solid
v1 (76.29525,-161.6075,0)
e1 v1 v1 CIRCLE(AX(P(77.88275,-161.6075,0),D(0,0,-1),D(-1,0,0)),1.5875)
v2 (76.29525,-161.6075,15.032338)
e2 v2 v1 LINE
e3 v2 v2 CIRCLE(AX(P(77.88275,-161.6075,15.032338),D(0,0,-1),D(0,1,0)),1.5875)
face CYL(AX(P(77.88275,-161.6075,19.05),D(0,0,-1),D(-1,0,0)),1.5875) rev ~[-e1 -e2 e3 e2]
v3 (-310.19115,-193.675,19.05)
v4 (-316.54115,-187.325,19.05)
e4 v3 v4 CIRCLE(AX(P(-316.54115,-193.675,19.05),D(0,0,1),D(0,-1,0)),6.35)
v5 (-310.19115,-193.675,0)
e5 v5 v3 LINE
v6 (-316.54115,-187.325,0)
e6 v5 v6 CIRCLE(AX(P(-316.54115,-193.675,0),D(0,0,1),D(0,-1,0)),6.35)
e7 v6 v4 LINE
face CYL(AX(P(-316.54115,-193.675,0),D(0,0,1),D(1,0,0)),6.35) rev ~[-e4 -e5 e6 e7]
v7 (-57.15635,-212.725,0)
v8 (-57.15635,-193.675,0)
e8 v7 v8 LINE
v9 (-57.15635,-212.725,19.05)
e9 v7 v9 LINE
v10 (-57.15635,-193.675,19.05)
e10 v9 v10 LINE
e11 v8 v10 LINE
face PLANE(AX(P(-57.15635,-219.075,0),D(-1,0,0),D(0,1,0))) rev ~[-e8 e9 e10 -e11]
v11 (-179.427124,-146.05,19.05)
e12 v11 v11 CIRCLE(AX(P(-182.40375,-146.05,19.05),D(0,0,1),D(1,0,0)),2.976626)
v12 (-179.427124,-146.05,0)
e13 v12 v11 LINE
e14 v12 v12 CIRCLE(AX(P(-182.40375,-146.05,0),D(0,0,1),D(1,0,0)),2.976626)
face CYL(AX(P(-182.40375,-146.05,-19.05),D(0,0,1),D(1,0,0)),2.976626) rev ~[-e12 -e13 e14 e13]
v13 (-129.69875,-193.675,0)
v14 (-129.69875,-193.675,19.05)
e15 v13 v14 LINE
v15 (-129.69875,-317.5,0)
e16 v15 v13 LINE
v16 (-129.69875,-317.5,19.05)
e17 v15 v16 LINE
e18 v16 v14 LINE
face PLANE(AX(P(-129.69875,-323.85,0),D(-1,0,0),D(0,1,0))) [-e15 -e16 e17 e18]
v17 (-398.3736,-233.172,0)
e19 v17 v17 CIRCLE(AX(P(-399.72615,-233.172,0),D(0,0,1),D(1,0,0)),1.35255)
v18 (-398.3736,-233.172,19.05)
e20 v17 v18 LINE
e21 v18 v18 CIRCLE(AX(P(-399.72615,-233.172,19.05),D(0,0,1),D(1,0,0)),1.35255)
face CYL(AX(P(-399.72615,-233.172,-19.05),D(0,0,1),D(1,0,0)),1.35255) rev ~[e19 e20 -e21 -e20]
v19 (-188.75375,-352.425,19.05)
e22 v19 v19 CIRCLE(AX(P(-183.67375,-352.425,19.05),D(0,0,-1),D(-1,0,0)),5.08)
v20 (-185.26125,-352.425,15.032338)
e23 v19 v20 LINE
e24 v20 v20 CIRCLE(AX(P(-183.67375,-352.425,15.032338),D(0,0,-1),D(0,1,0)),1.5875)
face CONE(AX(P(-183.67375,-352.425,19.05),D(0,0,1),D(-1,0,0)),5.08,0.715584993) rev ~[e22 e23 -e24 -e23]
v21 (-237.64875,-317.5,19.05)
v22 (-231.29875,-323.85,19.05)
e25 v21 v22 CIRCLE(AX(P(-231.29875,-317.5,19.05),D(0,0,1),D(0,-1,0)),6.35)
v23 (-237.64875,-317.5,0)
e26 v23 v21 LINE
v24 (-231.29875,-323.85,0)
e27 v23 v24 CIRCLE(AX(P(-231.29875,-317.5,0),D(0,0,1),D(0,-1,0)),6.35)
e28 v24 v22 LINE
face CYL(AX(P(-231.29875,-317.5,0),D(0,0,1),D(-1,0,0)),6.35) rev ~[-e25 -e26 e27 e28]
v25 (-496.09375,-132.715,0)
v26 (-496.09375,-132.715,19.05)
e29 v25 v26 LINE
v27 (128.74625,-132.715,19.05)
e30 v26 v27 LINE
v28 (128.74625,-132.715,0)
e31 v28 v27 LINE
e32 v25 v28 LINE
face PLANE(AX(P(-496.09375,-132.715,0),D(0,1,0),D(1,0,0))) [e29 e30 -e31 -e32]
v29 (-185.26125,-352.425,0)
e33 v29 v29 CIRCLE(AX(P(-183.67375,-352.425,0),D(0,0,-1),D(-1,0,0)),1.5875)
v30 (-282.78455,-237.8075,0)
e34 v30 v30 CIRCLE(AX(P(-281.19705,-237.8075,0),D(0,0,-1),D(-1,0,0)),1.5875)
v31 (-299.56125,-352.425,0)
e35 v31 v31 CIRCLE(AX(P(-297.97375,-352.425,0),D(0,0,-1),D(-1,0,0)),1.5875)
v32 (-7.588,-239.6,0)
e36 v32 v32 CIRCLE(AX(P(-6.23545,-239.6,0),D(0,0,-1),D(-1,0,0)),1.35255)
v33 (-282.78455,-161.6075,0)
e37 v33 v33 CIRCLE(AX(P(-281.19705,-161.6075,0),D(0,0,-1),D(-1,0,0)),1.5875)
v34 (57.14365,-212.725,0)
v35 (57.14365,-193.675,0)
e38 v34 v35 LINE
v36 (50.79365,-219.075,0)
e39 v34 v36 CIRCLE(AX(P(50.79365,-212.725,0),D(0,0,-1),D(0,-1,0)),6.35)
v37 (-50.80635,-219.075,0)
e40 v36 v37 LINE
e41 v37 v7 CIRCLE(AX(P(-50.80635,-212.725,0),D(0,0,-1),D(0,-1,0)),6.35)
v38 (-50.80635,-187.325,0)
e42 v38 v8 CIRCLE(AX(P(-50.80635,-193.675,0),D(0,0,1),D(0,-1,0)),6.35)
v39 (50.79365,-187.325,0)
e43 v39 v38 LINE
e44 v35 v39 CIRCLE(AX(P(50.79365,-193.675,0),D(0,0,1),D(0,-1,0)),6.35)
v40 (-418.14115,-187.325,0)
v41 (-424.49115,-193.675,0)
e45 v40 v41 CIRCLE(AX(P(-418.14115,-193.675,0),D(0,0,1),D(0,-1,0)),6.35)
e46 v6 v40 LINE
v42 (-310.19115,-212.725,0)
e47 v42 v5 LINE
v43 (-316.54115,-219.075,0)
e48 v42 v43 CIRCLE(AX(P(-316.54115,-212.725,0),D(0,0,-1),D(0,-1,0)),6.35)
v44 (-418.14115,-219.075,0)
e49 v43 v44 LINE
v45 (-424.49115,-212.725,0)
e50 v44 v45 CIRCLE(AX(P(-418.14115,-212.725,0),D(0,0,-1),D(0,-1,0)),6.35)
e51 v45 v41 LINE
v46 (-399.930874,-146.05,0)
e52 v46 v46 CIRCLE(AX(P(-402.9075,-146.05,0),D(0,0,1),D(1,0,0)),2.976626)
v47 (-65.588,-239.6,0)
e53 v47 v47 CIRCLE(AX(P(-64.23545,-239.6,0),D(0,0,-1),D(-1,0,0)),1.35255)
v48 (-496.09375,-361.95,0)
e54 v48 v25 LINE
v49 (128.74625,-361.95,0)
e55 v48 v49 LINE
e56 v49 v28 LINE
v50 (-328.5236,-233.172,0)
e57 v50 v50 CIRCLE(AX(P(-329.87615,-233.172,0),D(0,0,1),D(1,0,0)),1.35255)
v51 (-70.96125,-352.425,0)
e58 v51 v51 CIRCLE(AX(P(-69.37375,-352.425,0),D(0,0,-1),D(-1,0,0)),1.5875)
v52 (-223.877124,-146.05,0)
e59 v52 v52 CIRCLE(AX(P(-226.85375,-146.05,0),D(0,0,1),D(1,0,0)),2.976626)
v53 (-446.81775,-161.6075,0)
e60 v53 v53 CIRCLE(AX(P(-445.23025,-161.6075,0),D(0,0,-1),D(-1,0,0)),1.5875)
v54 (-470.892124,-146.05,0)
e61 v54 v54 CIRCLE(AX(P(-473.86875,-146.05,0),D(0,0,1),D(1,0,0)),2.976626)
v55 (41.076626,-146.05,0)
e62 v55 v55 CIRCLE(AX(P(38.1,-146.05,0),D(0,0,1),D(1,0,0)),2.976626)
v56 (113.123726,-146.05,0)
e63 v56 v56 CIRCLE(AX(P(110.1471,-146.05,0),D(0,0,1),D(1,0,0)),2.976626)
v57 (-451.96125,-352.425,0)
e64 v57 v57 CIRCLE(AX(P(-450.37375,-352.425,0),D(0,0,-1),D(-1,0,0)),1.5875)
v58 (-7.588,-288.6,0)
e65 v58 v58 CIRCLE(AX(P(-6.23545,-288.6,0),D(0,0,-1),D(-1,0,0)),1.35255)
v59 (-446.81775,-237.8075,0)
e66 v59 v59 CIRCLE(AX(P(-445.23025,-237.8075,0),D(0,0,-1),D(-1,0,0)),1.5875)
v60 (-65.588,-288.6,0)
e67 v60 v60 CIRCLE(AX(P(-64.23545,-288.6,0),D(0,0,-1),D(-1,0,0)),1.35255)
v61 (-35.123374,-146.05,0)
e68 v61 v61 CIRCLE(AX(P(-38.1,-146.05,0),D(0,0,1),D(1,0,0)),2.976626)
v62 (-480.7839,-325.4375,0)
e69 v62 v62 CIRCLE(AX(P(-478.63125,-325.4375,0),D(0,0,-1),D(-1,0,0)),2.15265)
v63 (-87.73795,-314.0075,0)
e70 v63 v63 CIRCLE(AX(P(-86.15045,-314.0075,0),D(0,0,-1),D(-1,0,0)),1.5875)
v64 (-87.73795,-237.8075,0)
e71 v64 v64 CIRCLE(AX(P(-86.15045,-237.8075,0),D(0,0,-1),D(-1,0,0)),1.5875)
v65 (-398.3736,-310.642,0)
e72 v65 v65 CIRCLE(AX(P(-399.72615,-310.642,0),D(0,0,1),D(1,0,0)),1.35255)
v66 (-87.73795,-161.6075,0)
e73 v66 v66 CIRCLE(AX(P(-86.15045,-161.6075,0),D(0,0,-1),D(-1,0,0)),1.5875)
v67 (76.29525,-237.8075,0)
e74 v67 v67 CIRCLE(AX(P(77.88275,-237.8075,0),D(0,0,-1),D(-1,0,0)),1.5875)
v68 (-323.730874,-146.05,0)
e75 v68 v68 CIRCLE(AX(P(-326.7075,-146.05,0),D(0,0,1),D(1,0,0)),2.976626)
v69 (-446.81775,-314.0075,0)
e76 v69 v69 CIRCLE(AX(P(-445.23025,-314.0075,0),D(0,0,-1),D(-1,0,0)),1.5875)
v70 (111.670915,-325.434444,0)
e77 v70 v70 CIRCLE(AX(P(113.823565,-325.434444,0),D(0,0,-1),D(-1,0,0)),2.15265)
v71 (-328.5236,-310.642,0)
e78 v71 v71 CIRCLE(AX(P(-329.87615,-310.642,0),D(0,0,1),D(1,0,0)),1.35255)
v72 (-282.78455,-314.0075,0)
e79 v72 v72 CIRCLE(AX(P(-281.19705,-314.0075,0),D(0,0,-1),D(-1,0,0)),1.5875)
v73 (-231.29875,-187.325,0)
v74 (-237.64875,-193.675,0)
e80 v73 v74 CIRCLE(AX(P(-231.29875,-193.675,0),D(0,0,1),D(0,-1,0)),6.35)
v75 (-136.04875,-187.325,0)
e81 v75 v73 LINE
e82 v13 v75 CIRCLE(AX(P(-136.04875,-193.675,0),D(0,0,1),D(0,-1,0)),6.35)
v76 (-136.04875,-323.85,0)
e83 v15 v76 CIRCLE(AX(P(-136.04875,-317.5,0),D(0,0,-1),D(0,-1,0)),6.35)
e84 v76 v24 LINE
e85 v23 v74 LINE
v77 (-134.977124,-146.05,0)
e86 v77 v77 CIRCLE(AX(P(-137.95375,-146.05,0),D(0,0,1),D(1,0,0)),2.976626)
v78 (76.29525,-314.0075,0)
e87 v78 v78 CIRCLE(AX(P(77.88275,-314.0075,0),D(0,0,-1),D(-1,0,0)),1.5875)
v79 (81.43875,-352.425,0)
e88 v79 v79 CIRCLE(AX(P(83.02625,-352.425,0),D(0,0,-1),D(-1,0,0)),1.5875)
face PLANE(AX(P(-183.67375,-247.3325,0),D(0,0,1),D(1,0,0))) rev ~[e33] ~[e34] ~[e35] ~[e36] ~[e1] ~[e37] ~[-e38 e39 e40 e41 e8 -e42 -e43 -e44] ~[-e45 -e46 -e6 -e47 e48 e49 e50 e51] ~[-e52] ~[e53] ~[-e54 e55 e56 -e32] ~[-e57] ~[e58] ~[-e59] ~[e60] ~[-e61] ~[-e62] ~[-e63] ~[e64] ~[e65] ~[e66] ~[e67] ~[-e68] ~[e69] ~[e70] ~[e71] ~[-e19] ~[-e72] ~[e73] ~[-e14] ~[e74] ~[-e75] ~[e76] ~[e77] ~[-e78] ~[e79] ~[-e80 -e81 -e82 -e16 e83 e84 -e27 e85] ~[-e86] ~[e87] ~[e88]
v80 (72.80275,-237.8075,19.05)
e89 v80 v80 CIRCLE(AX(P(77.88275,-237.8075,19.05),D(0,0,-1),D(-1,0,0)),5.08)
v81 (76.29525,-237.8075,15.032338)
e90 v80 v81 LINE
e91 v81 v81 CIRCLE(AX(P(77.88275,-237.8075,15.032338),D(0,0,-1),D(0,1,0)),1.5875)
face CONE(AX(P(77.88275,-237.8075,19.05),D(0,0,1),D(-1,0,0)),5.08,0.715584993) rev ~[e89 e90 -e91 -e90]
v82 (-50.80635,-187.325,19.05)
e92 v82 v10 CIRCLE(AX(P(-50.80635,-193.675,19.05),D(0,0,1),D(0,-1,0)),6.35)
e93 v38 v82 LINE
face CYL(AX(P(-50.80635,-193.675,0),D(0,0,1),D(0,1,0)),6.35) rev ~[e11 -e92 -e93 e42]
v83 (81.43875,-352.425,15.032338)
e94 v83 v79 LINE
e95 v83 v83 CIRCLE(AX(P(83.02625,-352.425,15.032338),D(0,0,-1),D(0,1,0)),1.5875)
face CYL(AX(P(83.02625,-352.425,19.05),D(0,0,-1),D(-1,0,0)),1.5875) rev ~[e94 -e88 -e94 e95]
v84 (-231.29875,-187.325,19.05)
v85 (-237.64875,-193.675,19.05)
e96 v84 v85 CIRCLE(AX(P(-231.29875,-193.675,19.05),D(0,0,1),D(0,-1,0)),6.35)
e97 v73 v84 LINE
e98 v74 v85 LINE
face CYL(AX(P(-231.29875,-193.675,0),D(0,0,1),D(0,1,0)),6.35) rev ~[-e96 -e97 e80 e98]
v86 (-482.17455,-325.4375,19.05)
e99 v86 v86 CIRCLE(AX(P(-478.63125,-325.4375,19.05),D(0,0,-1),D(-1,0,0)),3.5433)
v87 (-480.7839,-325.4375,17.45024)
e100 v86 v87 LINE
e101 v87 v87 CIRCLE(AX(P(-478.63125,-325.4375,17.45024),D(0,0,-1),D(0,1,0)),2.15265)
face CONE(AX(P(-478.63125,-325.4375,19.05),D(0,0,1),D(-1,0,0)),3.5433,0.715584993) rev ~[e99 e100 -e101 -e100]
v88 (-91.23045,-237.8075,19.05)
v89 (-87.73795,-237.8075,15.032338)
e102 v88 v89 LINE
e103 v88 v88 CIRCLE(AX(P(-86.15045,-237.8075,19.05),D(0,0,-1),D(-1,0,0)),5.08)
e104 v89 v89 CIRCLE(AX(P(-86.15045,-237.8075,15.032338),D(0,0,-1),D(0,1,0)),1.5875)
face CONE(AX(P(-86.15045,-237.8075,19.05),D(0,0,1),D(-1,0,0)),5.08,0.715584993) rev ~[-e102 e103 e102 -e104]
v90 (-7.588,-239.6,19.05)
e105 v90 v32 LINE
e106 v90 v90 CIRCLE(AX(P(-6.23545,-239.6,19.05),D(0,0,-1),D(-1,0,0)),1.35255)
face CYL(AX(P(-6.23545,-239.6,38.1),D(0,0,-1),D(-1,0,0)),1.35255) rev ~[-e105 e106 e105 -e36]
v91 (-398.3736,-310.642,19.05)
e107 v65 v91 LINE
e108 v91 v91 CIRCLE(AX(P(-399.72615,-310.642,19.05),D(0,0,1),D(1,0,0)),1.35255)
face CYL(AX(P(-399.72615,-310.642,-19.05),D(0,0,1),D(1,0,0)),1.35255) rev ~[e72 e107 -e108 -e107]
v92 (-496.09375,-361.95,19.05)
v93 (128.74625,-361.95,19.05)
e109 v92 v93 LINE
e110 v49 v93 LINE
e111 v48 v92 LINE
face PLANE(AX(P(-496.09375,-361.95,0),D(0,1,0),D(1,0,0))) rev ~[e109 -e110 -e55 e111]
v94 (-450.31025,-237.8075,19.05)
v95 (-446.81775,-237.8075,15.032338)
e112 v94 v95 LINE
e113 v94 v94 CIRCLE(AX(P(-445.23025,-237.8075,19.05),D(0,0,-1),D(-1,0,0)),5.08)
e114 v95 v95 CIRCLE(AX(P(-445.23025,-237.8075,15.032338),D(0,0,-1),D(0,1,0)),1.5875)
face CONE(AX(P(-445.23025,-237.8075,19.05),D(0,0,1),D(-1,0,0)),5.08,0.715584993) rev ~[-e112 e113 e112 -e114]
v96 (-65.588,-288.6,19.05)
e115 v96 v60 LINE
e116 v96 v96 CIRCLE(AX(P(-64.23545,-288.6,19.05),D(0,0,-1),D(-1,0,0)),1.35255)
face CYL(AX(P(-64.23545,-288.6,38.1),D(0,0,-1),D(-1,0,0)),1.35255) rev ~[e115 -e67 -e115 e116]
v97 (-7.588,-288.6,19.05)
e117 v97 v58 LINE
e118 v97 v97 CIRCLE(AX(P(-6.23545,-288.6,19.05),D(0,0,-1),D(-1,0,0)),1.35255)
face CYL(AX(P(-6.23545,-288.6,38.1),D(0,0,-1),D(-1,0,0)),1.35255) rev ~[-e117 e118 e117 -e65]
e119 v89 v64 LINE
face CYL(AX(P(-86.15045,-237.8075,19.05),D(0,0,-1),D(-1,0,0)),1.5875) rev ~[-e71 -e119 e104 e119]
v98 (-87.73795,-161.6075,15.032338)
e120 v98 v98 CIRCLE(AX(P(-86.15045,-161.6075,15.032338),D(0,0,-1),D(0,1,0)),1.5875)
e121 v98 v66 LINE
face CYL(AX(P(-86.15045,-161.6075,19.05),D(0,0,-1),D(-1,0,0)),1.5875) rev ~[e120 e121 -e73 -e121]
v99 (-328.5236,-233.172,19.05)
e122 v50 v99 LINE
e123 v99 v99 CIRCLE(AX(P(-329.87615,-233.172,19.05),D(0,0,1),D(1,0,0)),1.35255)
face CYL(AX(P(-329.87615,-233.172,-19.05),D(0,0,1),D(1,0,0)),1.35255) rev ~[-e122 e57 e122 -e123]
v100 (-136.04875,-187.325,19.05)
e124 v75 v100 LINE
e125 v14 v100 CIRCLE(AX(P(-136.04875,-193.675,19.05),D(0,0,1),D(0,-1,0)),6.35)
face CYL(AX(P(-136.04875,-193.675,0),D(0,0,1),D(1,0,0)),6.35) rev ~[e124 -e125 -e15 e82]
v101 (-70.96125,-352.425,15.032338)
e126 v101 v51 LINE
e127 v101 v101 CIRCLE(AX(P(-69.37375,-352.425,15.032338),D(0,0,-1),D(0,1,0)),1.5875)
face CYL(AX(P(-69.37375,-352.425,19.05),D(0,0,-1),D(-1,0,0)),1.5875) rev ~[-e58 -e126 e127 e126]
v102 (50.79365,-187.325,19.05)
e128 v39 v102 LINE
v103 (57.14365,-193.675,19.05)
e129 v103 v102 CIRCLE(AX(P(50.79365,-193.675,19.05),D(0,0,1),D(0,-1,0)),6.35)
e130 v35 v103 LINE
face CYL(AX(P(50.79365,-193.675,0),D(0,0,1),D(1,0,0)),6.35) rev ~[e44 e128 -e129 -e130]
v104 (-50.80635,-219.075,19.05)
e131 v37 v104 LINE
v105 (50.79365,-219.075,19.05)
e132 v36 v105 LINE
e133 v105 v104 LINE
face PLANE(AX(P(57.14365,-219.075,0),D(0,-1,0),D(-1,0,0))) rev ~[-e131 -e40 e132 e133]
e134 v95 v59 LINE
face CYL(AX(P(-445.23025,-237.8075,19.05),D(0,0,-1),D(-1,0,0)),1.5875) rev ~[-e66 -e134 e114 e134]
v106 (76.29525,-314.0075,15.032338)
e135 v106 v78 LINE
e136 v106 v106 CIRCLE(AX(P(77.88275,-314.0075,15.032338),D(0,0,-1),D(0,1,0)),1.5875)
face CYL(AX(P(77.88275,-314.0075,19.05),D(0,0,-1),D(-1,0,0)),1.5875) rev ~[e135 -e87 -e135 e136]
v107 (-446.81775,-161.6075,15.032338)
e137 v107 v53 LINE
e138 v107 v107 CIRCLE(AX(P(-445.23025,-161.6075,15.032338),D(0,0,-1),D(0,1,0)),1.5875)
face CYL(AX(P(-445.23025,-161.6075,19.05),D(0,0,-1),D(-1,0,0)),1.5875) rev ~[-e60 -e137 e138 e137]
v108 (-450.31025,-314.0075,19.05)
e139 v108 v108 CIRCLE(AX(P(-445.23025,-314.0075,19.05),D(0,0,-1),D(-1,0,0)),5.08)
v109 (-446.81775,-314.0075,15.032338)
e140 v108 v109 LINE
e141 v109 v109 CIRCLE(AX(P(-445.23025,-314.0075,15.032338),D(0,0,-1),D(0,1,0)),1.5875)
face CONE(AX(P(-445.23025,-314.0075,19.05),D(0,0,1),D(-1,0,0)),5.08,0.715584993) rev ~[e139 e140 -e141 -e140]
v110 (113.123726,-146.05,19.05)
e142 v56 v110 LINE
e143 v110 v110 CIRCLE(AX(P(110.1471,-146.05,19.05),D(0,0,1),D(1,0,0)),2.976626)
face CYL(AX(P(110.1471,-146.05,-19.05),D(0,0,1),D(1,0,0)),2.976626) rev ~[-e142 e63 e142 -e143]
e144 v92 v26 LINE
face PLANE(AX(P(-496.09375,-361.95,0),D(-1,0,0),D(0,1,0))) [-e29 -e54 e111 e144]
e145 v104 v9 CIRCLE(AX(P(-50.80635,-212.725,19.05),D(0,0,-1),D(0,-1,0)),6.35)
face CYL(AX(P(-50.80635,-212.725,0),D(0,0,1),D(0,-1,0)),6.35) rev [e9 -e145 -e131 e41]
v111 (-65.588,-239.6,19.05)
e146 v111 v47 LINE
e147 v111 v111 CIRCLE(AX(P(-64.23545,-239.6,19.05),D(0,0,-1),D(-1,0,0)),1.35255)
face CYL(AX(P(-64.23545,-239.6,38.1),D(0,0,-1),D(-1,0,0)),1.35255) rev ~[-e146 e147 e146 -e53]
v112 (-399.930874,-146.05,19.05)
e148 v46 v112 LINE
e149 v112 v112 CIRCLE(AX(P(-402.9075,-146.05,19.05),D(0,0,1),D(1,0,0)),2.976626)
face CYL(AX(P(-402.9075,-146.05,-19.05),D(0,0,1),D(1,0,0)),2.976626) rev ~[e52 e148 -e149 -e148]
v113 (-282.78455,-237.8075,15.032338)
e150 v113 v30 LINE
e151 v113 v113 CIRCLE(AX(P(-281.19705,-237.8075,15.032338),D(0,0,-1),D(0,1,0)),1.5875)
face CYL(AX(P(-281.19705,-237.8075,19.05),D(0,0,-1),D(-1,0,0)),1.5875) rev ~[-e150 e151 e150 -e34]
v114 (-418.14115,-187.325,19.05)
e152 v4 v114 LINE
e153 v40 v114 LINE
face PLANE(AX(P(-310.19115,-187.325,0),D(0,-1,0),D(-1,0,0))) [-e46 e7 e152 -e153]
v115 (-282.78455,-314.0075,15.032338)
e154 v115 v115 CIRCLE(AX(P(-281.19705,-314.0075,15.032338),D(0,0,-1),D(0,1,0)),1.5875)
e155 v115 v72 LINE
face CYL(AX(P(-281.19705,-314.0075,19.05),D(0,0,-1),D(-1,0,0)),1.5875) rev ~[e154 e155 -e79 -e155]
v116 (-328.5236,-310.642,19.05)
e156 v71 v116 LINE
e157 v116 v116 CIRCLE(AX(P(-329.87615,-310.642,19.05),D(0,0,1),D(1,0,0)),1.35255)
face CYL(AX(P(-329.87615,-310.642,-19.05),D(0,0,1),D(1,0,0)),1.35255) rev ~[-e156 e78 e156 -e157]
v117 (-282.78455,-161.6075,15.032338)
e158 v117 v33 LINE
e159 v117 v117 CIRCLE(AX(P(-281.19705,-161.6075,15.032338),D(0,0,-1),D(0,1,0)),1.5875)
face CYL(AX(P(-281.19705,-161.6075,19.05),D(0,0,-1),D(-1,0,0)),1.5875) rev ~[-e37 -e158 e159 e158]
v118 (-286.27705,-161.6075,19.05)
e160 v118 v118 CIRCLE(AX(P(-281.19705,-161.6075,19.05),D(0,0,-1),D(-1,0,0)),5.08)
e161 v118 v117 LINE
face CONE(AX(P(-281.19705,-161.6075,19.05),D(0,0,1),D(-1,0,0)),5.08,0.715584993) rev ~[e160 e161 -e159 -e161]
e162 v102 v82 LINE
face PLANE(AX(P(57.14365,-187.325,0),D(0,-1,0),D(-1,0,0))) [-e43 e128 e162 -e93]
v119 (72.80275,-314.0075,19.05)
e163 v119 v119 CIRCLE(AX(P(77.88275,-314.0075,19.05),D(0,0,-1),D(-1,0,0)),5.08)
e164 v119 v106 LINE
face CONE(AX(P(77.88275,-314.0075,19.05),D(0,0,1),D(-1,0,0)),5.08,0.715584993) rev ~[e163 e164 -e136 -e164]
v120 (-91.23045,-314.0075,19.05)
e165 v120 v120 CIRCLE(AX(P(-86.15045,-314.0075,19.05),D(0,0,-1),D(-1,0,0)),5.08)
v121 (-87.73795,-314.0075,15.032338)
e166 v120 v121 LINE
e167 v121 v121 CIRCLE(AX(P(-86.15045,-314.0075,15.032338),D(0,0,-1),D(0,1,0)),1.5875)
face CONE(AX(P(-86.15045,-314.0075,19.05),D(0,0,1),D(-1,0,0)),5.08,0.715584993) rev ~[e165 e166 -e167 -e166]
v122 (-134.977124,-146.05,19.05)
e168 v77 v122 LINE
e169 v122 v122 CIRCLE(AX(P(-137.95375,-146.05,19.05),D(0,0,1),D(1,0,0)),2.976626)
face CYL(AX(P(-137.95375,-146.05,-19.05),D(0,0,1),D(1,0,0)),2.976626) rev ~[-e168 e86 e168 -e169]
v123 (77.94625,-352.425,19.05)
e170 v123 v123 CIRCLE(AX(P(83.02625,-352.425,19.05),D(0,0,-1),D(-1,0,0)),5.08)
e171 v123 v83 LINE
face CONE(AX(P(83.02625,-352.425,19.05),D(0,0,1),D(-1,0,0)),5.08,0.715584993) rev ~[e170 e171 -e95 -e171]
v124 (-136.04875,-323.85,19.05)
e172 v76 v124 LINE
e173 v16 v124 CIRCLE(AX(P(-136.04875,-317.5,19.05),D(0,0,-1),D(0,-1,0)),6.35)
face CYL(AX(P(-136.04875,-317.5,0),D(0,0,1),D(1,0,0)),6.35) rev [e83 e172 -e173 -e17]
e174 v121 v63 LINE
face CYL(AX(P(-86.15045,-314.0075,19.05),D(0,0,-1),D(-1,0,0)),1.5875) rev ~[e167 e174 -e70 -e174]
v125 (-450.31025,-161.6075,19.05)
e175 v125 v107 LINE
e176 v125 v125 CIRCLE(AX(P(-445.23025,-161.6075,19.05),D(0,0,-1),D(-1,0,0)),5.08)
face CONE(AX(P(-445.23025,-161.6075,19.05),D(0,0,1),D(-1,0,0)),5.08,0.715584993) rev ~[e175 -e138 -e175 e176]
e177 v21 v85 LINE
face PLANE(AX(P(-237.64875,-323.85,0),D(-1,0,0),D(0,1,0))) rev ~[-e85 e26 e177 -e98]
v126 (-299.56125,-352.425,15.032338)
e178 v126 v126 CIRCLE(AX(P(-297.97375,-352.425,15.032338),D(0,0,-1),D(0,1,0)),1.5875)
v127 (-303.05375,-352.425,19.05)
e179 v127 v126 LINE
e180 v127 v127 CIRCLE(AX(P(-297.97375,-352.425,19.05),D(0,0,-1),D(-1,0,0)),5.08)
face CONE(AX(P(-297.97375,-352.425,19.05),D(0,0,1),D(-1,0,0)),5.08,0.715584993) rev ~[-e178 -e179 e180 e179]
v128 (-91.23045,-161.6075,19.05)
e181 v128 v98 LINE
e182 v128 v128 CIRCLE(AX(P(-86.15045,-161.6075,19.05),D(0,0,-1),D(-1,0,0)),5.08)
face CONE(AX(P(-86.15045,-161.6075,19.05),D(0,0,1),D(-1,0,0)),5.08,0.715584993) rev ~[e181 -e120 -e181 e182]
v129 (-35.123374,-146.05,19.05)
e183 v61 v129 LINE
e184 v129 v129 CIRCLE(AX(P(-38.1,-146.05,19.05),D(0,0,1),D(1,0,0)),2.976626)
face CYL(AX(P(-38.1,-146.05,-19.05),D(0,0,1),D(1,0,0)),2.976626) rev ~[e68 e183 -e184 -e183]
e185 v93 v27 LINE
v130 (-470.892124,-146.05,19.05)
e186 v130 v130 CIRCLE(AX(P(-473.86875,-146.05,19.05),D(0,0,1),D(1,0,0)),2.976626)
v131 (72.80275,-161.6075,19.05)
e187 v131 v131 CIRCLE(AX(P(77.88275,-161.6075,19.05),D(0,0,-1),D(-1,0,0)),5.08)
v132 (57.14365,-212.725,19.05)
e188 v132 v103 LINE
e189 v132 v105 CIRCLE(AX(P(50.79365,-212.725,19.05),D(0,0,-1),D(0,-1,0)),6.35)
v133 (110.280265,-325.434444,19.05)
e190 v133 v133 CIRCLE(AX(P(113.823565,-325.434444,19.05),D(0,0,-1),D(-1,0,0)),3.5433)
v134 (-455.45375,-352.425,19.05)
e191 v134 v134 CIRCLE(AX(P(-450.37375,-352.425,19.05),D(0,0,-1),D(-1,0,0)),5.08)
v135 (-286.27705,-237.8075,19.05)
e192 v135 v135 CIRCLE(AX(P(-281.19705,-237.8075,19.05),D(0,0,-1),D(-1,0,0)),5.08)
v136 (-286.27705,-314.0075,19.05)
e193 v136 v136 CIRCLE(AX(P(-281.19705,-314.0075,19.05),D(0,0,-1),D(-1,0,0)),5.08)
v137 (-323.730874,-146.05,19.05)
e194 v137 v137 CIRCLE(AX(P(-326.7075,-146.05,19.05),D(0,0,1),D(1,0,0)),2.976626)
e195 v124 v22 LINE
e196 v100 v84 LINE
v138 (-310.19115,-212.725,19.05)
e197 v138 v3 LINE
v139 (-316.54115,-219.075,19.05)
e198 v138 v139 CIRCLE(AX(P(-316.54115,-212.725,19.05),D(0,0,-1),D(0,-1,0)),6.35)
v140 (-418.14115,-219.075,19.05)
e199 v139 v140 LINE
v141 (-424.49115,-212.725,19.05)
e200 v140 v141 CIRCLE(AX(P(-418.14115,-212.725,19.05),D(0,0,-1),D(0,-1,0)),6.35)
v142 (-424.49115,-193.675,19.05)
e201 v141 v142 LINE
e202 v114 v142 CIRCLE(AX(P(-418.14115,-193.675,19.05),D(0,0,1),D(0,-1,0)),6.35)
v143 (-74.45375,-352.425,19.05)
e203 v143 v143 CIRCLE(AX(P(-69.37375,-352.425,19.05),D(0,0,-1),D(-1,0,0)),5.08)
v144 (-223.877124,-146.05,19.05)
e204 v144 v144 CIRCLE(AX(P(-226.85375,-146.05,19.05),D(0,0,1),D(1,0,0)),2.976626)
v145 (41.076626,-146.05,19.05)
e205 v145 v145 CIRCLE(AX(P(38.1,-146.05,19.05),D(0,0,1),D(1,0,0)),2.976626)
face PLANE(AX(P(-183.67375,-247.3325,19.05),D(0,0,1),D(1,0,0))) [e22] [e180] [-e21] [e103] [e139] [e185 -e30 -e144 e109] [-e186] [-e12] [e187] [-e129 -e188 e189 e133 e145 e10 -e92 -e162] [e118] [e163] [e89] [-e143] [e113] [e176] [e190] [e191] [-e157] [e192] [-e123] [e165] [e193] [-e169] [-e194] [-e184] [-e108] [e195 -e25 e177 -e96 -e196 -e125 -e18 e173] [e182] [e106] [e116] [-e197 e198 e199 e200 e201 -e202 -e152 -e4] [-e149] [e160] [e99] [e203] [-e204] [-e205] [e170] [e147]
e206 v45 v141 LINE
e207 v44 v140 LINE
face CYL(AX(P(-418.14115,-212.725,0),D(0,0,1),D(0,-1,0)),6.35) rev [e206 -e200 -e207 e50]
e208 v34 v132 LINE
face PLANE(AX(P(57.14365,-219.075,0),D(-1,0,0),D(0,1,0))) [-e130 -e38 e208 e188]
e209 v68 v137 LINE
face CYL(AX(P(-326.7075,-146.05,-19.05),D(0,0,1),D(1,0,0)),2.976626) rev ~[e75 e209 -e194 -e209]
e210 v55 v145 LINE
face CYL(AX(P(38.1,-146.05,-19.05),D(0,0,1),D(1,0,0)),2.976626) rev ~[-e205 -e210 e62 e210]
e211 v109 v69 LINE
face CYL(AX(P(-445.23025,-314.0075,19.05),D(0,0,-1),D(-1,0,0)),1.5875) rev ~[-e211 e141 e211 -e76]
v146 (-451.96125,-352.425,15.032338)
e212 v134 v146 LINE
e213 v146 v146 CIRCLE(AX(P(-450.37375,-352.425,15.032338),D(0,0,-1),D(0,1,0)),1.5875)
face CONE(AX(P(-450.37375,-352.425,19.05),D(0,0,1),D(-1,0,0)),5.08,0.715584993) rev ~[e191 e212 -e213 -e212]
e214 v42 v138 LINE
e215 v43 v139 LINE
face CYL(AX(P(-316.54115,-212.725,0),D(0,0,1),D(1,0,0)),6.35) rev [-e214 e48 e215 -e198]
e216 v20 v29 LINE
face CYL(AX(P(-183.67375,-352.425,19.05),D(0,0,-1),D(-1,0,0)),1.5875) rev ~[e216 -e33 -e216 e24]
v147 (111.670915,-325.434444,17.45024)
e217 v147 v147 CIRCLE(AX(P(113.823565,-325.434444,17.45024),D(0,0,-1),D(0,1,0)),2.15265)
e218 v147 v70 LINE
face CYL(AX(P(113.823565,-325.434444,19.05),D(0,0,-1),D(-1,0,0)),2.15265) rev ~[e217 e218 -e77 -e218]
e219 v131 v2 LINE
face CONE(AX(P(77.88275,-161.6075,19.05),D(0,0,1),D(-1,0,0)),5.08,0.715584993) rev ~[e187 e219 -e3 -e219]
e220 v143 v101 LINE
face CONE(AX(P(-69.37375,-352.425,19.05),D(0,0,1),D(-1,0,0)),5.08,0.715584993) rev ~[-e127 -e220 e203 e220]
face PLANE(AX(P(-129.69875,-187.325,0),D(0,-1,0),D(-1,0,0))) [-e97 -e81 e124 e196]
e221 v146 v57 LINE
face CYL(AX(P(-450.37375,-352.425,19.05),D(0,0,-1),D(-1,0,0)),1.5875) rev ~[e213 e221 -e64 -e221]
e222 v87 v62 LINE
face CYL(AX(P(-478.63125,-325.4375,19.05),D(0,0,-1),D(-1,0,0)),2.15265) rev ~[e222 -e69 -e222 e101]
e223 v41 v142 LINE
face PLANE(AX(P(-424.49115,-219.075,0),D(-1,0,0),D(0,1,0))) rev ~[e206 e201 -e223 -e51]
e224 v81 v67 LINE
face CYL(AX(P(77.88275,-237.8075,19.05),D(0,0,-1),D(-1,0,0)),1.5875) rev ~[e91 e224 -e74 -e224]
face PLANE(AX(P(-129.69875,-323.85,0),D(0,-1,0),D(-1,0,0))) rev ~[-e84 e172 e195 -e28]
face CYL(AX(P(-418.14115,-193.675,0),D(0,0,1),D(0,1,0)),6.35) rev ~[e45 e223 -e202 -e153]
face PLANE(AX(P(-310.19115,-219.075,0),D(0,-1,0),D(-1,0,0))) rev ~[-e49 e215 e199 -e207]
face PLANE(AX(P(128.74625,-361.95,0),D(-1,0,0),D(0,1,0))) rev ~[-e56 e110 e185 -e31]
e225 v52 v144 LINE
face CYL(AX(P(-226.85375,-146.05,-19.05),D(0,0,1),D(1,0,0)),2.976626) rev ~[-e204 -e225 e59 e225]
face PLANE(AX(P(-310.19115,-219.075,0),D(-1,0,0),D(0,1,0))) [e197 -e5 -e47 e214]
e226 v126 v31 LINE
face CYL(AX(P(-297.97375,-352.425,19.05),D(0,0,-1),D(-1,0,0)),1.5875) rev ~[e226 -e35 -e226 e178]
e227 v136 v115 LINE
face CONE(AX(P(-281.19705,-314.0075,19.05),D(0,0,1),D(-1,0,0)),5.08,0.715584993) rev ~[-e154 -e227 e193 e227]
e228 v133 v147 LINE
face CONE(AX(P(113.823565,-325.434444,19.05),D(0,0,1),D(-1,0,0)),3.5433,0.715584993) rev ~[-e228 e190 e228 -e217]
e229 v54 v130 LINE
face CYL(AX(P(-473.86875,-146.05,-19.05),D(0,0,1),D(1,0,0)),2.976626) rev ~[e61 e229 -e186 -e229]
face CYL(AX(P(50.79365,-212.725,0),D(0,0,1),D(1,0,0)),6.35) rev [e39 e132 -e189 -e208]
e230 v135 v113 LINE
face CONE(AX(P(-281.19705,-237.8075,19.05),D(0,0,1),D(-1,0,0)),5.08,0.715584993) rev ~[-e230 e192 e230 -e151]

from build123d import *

# Parameters (mm, degrees)
SKETCH1_W                                         = 624.84
SKETCH1_H                                         = 229.235
BOSS_EXTRUDE1_DEPTH                               = 19.05
F_5_64_0_07813_DIAMETER_HOLE1_D                   = 3.175
F_5_64_0_07813_DIAMETER_HOLE1_DEPTH               = 38.1
F_5_64_0_07813_DIAMETER_HOLE1_CSINK_D             = 10.16
F_5_64_0_07813_DIAMETER_HOLE1_CSINK_ANGLE         = 82
F_5_64_0_07813_DIAMETER_HOLE1_TIP                 = 0.953866233
F_15_64_0_23438_DIAMETER_HOLE1_D                  = 5.953252
F_15_64_0_23438_DIAMETER_HOLE1_DEPTH              = 19.05
F_2_CLEARANCE_HOLE1_D                             = 2.7051
F_2_CLEARANCE_HOLE1_DEPTH                         = 19.05
F_2_CLEARANCE_HOLE2_D                             = 2.7051
F_2_CLEARANCE_HOLE2_DEPTH                         = 19.05
CSK_FOR_6_FLAT_HEAD_MACHINE_SCREW_100_D           = 4.3053
CSK_FOR_6_FLAT_HEAD_MACHINE_SCREW_100_DEPTH       = 19.05
CSK_FOR_6_FLAT_HEAD_MACHINE_SCREW_100_CSINK_D     = 7.0866
CSK_FOR_6_FLAT_HEAD_MACHINE_SCREW_100_CSINK_ANGLE = 82
CUT_EXTRUDE2_REACH                                = 21.05
SKETCH18_W                                        = 114.3
SKETCH18_H                                        = 31.75
SKETCH18_W_2                                      = 107.95
SKETCH18_H_2                                      = 136.525
FILLET2_R                                         = 6.35


with BuildPart() as part:
    # Sketch1 → Boss-Extrude1 (new body)
    with BuildSketch(Plane.XY):
        with Locations((-183.67375, -247.3325)):
            Rectangle(SKETCH1_W, SKETCH1_H)
    extrude(amount=BOSS_EXTRUDE1_DEPTH)

    # 5/64 (0.07813) Diameter Hole1
    with Locations(Plane(origin=(-182.40375, -6471.459863233, 19.05), x_dir=(1, 0, 0), z_dir=(0, 0, 1))):
        with Locations((-262.8265, 6157.452363233), (-98.7933, 6157.452363233), (-262.8265, 6233.652363233), (-98.7933, 6233.652363233), (-262.8265, 6309.852363233), (-98.7933, 6309.852363233), (-267.97, 6119.034863233), (-115.57, 6119.034863233), (-1.27, 6119.034863233), (113.03, 6119.034863233), (265.43, 6119.034863233), (96.2533, 6309.852363233), (260.2865, 6309.852363233), (96.2533, 6233.652363233), (260.2865, 6233.652363233), (96.2533, 6157.452363233), (260.2865, 6157.452363233)):
            CounterSinkHole(F_5_64_0_07813_DIAMETER_HOLE1_D / 2, F_5_64_0_07813_DIAMETER_HOLE1_CSINK_D / 2, depth=F_5_64_0_07813_DIAMETER_HOLE1_DEPTH, counter_sink_angle=F_5_64_0_07813_DIAMETER_HOLE1_CSINK_ANGLE)
            with Locations((0, 0, -(F_5_64_0_07813_DIAMETER_HOLE1_DEPTH + F_5_64_0_07813_DIAMETER_HOLE1_TIP / 2))):  # 118° drill point
                Cone(0, F_5_64_0_07813_DIAMETER_HOLE1_D / 2, F_5_64_0_07813_DIAMETER_HOLE1_TIP, mode=Mode.SUBTRACT)

    # 15/64 (0.23438) Diameter Hole1
    with Locations(Plane(origin=(0, 0, 0), x_dir=(-1, 0, 0), z_dir=(0, 0, -1))):
        with Locations((402.9075, -146.05), (326.7075, -146.05), (226.85375, -146.05), (182.40375, -146.05), (137.95375, -146.05), (38.1, -146.05), (-38.1, -146.05), (473.86875, -146.05), (-110.1471, -146.05)):
            Hole(F_15_64_0_23438_DIAMETER_HOLE1_D / 2, depth=F_15_64_0_23438_DIAMETER_HOLE1_DEPTH)

    # #2 Clearance Hole1
    with Locations(Plane.XY.offset(19.05)):
        with Locations((-6.23545, -239.6), (-64.23545, -239.6), (-64.23545, -288.6), (-6.23545, -288.6)):
            Hole(F_2_CLEARANCE_HOLE1_D / 2, depth=F_2_CLEARANCE_HOLE1_DEPTH)

    # #2 Clearance Hole2
    with Locations(Plane(origin=(0, 0, 0), x_dir=(-1, 0, 0), z_dir=(0, 0, -1))):
        with Locations((399.72615, -233.172), (329.87615, -233.172), (329.87615, -310.642), (399.72615, -310.642)):
            Hole(F_2_CLEARANCE_HOLE2_D / 2, depth=F_2_CLEARANCE_HOLE2_DEPTH)

    # CSK for #6 Flat Head Machine Screw (100)1
    with Locations(Plane.XY.offset(19.05)):
        with Locations((113.823564524, -325.434443918), (-478.63125, -325.4375)):
            CounterSinkHole(CSK_FOR_6_FLAT_HEAD_MACHINE_SCREW_100_D / 2, CSK_FOR_6_FLAT_HEAD_MACHINE_SCREW_100_CSINK_D / 2, depth=CSK_FOR_6_FLAT_HEAD_MACHINE_SCREW_100_DEPTH, counter_sink_angle=CSK_FOR_6_FLAT_HEAD_MACHINE_SCREW_100_CSINK_ANGLE)

    # Sketch18 → Cut-Extrude2 (cut, up to next)
    with BuildSketch(Plane(origin=(0, 0, 0), x_dir=(-1, 0, 0), z_dir=(0, 0, -1)), mode=Mode.PRIVATE) as cut_extrude2_sk1:
        with Locations((0.00635, -203.2)):
            Rectangle(SKETCH18_W, SKETCH18_H)
    cut_extrude2_tool1 = extrude(cut_extrude2_sk1.sketch, amount=-CUT_EXTRUDE2_REACH, mode=Mode.PRIVATE) & part.part
    add(cut_extrude2_tool1.solids().sort_by_distance((-0.00635, -203.2, 0))[0], mode=Mode.SUBTRACT)
    # Sketch18 → Cut-Extrude2 (cut, up to next)
    with BuildSketch(Plane(origin=(0, 0, 0), x_dir=(-1, 0, 0), z_dir=(0, 0, -1)), mode=Mode.PRIVATE) as cut_extrude2_sk2:
        with Locations((367.34115, -203.2)):
            Rectangle(SKETCH18_W, SKETCH18_H)
    cut_extrude2_tool2 = extrude(cut_extrude2_sk2.sketch, amount=-CUT_EXTRUDE2_REACH, mode=Mode.PRIVATE) & part.part
    add(cut_extrude2_tool2.solids().sort_by_distance((-367.34115, -203.2, 0))[0], mode=Mode.SUBTRACT)
    # Sketch18 → Cut-Extrude2 (cut, up to next)
    with BuildSketch(Plane(origin=(0, 0, 0), x_dir=(-1, 0, 0), z_dir=(0, 0, -1)), mode=Mode.PRIVATE) as cut_extrude2_sk3:
        with Locations((183.67375, -255.5875)):
            Rectangle(SKETCH18_W_2, SKETCH18_H_2)
    cut_extrude2_tool3 = extrude(cut_extrude2_sk3.sketch, amount=-CUT_EXTRUDE2_REACH, mode=Mode.PRIVATE) & part.part
    add(cut_extrude2_tool3.solids().sort_by_distance((-183.67375, -255.5875, 0))[0], mode=Mode.SUBTRACT)

    # Fillet2
    fillet2_edges = [part.edges().sort_by_distance(p)[0] for p in [
        (57.14365, -219.075, 9.525),
        (57.14365, -187.325, 9.525),
        (-57.15635, -187.325, 9.525),
        (-57.15635, -219.075, 9.525),
        (-310.19115, -187.325, 9.525),
        (-424.49115, -187.325, 9.525),
        (-424.49115, -219.075, 9.525),
        (-310.19115, -219.075, 9.525),
        (-129.69875, -323.85, 9.525),
        (-129.69875, -187.325, 9.525),
        (-237.64875, -187.325, 9.525),
        (-237.64875, -323.85, 9.525),
    ]]
    fillet(fillet2_edges, radius=FILLET2_R)


solid = part.part
